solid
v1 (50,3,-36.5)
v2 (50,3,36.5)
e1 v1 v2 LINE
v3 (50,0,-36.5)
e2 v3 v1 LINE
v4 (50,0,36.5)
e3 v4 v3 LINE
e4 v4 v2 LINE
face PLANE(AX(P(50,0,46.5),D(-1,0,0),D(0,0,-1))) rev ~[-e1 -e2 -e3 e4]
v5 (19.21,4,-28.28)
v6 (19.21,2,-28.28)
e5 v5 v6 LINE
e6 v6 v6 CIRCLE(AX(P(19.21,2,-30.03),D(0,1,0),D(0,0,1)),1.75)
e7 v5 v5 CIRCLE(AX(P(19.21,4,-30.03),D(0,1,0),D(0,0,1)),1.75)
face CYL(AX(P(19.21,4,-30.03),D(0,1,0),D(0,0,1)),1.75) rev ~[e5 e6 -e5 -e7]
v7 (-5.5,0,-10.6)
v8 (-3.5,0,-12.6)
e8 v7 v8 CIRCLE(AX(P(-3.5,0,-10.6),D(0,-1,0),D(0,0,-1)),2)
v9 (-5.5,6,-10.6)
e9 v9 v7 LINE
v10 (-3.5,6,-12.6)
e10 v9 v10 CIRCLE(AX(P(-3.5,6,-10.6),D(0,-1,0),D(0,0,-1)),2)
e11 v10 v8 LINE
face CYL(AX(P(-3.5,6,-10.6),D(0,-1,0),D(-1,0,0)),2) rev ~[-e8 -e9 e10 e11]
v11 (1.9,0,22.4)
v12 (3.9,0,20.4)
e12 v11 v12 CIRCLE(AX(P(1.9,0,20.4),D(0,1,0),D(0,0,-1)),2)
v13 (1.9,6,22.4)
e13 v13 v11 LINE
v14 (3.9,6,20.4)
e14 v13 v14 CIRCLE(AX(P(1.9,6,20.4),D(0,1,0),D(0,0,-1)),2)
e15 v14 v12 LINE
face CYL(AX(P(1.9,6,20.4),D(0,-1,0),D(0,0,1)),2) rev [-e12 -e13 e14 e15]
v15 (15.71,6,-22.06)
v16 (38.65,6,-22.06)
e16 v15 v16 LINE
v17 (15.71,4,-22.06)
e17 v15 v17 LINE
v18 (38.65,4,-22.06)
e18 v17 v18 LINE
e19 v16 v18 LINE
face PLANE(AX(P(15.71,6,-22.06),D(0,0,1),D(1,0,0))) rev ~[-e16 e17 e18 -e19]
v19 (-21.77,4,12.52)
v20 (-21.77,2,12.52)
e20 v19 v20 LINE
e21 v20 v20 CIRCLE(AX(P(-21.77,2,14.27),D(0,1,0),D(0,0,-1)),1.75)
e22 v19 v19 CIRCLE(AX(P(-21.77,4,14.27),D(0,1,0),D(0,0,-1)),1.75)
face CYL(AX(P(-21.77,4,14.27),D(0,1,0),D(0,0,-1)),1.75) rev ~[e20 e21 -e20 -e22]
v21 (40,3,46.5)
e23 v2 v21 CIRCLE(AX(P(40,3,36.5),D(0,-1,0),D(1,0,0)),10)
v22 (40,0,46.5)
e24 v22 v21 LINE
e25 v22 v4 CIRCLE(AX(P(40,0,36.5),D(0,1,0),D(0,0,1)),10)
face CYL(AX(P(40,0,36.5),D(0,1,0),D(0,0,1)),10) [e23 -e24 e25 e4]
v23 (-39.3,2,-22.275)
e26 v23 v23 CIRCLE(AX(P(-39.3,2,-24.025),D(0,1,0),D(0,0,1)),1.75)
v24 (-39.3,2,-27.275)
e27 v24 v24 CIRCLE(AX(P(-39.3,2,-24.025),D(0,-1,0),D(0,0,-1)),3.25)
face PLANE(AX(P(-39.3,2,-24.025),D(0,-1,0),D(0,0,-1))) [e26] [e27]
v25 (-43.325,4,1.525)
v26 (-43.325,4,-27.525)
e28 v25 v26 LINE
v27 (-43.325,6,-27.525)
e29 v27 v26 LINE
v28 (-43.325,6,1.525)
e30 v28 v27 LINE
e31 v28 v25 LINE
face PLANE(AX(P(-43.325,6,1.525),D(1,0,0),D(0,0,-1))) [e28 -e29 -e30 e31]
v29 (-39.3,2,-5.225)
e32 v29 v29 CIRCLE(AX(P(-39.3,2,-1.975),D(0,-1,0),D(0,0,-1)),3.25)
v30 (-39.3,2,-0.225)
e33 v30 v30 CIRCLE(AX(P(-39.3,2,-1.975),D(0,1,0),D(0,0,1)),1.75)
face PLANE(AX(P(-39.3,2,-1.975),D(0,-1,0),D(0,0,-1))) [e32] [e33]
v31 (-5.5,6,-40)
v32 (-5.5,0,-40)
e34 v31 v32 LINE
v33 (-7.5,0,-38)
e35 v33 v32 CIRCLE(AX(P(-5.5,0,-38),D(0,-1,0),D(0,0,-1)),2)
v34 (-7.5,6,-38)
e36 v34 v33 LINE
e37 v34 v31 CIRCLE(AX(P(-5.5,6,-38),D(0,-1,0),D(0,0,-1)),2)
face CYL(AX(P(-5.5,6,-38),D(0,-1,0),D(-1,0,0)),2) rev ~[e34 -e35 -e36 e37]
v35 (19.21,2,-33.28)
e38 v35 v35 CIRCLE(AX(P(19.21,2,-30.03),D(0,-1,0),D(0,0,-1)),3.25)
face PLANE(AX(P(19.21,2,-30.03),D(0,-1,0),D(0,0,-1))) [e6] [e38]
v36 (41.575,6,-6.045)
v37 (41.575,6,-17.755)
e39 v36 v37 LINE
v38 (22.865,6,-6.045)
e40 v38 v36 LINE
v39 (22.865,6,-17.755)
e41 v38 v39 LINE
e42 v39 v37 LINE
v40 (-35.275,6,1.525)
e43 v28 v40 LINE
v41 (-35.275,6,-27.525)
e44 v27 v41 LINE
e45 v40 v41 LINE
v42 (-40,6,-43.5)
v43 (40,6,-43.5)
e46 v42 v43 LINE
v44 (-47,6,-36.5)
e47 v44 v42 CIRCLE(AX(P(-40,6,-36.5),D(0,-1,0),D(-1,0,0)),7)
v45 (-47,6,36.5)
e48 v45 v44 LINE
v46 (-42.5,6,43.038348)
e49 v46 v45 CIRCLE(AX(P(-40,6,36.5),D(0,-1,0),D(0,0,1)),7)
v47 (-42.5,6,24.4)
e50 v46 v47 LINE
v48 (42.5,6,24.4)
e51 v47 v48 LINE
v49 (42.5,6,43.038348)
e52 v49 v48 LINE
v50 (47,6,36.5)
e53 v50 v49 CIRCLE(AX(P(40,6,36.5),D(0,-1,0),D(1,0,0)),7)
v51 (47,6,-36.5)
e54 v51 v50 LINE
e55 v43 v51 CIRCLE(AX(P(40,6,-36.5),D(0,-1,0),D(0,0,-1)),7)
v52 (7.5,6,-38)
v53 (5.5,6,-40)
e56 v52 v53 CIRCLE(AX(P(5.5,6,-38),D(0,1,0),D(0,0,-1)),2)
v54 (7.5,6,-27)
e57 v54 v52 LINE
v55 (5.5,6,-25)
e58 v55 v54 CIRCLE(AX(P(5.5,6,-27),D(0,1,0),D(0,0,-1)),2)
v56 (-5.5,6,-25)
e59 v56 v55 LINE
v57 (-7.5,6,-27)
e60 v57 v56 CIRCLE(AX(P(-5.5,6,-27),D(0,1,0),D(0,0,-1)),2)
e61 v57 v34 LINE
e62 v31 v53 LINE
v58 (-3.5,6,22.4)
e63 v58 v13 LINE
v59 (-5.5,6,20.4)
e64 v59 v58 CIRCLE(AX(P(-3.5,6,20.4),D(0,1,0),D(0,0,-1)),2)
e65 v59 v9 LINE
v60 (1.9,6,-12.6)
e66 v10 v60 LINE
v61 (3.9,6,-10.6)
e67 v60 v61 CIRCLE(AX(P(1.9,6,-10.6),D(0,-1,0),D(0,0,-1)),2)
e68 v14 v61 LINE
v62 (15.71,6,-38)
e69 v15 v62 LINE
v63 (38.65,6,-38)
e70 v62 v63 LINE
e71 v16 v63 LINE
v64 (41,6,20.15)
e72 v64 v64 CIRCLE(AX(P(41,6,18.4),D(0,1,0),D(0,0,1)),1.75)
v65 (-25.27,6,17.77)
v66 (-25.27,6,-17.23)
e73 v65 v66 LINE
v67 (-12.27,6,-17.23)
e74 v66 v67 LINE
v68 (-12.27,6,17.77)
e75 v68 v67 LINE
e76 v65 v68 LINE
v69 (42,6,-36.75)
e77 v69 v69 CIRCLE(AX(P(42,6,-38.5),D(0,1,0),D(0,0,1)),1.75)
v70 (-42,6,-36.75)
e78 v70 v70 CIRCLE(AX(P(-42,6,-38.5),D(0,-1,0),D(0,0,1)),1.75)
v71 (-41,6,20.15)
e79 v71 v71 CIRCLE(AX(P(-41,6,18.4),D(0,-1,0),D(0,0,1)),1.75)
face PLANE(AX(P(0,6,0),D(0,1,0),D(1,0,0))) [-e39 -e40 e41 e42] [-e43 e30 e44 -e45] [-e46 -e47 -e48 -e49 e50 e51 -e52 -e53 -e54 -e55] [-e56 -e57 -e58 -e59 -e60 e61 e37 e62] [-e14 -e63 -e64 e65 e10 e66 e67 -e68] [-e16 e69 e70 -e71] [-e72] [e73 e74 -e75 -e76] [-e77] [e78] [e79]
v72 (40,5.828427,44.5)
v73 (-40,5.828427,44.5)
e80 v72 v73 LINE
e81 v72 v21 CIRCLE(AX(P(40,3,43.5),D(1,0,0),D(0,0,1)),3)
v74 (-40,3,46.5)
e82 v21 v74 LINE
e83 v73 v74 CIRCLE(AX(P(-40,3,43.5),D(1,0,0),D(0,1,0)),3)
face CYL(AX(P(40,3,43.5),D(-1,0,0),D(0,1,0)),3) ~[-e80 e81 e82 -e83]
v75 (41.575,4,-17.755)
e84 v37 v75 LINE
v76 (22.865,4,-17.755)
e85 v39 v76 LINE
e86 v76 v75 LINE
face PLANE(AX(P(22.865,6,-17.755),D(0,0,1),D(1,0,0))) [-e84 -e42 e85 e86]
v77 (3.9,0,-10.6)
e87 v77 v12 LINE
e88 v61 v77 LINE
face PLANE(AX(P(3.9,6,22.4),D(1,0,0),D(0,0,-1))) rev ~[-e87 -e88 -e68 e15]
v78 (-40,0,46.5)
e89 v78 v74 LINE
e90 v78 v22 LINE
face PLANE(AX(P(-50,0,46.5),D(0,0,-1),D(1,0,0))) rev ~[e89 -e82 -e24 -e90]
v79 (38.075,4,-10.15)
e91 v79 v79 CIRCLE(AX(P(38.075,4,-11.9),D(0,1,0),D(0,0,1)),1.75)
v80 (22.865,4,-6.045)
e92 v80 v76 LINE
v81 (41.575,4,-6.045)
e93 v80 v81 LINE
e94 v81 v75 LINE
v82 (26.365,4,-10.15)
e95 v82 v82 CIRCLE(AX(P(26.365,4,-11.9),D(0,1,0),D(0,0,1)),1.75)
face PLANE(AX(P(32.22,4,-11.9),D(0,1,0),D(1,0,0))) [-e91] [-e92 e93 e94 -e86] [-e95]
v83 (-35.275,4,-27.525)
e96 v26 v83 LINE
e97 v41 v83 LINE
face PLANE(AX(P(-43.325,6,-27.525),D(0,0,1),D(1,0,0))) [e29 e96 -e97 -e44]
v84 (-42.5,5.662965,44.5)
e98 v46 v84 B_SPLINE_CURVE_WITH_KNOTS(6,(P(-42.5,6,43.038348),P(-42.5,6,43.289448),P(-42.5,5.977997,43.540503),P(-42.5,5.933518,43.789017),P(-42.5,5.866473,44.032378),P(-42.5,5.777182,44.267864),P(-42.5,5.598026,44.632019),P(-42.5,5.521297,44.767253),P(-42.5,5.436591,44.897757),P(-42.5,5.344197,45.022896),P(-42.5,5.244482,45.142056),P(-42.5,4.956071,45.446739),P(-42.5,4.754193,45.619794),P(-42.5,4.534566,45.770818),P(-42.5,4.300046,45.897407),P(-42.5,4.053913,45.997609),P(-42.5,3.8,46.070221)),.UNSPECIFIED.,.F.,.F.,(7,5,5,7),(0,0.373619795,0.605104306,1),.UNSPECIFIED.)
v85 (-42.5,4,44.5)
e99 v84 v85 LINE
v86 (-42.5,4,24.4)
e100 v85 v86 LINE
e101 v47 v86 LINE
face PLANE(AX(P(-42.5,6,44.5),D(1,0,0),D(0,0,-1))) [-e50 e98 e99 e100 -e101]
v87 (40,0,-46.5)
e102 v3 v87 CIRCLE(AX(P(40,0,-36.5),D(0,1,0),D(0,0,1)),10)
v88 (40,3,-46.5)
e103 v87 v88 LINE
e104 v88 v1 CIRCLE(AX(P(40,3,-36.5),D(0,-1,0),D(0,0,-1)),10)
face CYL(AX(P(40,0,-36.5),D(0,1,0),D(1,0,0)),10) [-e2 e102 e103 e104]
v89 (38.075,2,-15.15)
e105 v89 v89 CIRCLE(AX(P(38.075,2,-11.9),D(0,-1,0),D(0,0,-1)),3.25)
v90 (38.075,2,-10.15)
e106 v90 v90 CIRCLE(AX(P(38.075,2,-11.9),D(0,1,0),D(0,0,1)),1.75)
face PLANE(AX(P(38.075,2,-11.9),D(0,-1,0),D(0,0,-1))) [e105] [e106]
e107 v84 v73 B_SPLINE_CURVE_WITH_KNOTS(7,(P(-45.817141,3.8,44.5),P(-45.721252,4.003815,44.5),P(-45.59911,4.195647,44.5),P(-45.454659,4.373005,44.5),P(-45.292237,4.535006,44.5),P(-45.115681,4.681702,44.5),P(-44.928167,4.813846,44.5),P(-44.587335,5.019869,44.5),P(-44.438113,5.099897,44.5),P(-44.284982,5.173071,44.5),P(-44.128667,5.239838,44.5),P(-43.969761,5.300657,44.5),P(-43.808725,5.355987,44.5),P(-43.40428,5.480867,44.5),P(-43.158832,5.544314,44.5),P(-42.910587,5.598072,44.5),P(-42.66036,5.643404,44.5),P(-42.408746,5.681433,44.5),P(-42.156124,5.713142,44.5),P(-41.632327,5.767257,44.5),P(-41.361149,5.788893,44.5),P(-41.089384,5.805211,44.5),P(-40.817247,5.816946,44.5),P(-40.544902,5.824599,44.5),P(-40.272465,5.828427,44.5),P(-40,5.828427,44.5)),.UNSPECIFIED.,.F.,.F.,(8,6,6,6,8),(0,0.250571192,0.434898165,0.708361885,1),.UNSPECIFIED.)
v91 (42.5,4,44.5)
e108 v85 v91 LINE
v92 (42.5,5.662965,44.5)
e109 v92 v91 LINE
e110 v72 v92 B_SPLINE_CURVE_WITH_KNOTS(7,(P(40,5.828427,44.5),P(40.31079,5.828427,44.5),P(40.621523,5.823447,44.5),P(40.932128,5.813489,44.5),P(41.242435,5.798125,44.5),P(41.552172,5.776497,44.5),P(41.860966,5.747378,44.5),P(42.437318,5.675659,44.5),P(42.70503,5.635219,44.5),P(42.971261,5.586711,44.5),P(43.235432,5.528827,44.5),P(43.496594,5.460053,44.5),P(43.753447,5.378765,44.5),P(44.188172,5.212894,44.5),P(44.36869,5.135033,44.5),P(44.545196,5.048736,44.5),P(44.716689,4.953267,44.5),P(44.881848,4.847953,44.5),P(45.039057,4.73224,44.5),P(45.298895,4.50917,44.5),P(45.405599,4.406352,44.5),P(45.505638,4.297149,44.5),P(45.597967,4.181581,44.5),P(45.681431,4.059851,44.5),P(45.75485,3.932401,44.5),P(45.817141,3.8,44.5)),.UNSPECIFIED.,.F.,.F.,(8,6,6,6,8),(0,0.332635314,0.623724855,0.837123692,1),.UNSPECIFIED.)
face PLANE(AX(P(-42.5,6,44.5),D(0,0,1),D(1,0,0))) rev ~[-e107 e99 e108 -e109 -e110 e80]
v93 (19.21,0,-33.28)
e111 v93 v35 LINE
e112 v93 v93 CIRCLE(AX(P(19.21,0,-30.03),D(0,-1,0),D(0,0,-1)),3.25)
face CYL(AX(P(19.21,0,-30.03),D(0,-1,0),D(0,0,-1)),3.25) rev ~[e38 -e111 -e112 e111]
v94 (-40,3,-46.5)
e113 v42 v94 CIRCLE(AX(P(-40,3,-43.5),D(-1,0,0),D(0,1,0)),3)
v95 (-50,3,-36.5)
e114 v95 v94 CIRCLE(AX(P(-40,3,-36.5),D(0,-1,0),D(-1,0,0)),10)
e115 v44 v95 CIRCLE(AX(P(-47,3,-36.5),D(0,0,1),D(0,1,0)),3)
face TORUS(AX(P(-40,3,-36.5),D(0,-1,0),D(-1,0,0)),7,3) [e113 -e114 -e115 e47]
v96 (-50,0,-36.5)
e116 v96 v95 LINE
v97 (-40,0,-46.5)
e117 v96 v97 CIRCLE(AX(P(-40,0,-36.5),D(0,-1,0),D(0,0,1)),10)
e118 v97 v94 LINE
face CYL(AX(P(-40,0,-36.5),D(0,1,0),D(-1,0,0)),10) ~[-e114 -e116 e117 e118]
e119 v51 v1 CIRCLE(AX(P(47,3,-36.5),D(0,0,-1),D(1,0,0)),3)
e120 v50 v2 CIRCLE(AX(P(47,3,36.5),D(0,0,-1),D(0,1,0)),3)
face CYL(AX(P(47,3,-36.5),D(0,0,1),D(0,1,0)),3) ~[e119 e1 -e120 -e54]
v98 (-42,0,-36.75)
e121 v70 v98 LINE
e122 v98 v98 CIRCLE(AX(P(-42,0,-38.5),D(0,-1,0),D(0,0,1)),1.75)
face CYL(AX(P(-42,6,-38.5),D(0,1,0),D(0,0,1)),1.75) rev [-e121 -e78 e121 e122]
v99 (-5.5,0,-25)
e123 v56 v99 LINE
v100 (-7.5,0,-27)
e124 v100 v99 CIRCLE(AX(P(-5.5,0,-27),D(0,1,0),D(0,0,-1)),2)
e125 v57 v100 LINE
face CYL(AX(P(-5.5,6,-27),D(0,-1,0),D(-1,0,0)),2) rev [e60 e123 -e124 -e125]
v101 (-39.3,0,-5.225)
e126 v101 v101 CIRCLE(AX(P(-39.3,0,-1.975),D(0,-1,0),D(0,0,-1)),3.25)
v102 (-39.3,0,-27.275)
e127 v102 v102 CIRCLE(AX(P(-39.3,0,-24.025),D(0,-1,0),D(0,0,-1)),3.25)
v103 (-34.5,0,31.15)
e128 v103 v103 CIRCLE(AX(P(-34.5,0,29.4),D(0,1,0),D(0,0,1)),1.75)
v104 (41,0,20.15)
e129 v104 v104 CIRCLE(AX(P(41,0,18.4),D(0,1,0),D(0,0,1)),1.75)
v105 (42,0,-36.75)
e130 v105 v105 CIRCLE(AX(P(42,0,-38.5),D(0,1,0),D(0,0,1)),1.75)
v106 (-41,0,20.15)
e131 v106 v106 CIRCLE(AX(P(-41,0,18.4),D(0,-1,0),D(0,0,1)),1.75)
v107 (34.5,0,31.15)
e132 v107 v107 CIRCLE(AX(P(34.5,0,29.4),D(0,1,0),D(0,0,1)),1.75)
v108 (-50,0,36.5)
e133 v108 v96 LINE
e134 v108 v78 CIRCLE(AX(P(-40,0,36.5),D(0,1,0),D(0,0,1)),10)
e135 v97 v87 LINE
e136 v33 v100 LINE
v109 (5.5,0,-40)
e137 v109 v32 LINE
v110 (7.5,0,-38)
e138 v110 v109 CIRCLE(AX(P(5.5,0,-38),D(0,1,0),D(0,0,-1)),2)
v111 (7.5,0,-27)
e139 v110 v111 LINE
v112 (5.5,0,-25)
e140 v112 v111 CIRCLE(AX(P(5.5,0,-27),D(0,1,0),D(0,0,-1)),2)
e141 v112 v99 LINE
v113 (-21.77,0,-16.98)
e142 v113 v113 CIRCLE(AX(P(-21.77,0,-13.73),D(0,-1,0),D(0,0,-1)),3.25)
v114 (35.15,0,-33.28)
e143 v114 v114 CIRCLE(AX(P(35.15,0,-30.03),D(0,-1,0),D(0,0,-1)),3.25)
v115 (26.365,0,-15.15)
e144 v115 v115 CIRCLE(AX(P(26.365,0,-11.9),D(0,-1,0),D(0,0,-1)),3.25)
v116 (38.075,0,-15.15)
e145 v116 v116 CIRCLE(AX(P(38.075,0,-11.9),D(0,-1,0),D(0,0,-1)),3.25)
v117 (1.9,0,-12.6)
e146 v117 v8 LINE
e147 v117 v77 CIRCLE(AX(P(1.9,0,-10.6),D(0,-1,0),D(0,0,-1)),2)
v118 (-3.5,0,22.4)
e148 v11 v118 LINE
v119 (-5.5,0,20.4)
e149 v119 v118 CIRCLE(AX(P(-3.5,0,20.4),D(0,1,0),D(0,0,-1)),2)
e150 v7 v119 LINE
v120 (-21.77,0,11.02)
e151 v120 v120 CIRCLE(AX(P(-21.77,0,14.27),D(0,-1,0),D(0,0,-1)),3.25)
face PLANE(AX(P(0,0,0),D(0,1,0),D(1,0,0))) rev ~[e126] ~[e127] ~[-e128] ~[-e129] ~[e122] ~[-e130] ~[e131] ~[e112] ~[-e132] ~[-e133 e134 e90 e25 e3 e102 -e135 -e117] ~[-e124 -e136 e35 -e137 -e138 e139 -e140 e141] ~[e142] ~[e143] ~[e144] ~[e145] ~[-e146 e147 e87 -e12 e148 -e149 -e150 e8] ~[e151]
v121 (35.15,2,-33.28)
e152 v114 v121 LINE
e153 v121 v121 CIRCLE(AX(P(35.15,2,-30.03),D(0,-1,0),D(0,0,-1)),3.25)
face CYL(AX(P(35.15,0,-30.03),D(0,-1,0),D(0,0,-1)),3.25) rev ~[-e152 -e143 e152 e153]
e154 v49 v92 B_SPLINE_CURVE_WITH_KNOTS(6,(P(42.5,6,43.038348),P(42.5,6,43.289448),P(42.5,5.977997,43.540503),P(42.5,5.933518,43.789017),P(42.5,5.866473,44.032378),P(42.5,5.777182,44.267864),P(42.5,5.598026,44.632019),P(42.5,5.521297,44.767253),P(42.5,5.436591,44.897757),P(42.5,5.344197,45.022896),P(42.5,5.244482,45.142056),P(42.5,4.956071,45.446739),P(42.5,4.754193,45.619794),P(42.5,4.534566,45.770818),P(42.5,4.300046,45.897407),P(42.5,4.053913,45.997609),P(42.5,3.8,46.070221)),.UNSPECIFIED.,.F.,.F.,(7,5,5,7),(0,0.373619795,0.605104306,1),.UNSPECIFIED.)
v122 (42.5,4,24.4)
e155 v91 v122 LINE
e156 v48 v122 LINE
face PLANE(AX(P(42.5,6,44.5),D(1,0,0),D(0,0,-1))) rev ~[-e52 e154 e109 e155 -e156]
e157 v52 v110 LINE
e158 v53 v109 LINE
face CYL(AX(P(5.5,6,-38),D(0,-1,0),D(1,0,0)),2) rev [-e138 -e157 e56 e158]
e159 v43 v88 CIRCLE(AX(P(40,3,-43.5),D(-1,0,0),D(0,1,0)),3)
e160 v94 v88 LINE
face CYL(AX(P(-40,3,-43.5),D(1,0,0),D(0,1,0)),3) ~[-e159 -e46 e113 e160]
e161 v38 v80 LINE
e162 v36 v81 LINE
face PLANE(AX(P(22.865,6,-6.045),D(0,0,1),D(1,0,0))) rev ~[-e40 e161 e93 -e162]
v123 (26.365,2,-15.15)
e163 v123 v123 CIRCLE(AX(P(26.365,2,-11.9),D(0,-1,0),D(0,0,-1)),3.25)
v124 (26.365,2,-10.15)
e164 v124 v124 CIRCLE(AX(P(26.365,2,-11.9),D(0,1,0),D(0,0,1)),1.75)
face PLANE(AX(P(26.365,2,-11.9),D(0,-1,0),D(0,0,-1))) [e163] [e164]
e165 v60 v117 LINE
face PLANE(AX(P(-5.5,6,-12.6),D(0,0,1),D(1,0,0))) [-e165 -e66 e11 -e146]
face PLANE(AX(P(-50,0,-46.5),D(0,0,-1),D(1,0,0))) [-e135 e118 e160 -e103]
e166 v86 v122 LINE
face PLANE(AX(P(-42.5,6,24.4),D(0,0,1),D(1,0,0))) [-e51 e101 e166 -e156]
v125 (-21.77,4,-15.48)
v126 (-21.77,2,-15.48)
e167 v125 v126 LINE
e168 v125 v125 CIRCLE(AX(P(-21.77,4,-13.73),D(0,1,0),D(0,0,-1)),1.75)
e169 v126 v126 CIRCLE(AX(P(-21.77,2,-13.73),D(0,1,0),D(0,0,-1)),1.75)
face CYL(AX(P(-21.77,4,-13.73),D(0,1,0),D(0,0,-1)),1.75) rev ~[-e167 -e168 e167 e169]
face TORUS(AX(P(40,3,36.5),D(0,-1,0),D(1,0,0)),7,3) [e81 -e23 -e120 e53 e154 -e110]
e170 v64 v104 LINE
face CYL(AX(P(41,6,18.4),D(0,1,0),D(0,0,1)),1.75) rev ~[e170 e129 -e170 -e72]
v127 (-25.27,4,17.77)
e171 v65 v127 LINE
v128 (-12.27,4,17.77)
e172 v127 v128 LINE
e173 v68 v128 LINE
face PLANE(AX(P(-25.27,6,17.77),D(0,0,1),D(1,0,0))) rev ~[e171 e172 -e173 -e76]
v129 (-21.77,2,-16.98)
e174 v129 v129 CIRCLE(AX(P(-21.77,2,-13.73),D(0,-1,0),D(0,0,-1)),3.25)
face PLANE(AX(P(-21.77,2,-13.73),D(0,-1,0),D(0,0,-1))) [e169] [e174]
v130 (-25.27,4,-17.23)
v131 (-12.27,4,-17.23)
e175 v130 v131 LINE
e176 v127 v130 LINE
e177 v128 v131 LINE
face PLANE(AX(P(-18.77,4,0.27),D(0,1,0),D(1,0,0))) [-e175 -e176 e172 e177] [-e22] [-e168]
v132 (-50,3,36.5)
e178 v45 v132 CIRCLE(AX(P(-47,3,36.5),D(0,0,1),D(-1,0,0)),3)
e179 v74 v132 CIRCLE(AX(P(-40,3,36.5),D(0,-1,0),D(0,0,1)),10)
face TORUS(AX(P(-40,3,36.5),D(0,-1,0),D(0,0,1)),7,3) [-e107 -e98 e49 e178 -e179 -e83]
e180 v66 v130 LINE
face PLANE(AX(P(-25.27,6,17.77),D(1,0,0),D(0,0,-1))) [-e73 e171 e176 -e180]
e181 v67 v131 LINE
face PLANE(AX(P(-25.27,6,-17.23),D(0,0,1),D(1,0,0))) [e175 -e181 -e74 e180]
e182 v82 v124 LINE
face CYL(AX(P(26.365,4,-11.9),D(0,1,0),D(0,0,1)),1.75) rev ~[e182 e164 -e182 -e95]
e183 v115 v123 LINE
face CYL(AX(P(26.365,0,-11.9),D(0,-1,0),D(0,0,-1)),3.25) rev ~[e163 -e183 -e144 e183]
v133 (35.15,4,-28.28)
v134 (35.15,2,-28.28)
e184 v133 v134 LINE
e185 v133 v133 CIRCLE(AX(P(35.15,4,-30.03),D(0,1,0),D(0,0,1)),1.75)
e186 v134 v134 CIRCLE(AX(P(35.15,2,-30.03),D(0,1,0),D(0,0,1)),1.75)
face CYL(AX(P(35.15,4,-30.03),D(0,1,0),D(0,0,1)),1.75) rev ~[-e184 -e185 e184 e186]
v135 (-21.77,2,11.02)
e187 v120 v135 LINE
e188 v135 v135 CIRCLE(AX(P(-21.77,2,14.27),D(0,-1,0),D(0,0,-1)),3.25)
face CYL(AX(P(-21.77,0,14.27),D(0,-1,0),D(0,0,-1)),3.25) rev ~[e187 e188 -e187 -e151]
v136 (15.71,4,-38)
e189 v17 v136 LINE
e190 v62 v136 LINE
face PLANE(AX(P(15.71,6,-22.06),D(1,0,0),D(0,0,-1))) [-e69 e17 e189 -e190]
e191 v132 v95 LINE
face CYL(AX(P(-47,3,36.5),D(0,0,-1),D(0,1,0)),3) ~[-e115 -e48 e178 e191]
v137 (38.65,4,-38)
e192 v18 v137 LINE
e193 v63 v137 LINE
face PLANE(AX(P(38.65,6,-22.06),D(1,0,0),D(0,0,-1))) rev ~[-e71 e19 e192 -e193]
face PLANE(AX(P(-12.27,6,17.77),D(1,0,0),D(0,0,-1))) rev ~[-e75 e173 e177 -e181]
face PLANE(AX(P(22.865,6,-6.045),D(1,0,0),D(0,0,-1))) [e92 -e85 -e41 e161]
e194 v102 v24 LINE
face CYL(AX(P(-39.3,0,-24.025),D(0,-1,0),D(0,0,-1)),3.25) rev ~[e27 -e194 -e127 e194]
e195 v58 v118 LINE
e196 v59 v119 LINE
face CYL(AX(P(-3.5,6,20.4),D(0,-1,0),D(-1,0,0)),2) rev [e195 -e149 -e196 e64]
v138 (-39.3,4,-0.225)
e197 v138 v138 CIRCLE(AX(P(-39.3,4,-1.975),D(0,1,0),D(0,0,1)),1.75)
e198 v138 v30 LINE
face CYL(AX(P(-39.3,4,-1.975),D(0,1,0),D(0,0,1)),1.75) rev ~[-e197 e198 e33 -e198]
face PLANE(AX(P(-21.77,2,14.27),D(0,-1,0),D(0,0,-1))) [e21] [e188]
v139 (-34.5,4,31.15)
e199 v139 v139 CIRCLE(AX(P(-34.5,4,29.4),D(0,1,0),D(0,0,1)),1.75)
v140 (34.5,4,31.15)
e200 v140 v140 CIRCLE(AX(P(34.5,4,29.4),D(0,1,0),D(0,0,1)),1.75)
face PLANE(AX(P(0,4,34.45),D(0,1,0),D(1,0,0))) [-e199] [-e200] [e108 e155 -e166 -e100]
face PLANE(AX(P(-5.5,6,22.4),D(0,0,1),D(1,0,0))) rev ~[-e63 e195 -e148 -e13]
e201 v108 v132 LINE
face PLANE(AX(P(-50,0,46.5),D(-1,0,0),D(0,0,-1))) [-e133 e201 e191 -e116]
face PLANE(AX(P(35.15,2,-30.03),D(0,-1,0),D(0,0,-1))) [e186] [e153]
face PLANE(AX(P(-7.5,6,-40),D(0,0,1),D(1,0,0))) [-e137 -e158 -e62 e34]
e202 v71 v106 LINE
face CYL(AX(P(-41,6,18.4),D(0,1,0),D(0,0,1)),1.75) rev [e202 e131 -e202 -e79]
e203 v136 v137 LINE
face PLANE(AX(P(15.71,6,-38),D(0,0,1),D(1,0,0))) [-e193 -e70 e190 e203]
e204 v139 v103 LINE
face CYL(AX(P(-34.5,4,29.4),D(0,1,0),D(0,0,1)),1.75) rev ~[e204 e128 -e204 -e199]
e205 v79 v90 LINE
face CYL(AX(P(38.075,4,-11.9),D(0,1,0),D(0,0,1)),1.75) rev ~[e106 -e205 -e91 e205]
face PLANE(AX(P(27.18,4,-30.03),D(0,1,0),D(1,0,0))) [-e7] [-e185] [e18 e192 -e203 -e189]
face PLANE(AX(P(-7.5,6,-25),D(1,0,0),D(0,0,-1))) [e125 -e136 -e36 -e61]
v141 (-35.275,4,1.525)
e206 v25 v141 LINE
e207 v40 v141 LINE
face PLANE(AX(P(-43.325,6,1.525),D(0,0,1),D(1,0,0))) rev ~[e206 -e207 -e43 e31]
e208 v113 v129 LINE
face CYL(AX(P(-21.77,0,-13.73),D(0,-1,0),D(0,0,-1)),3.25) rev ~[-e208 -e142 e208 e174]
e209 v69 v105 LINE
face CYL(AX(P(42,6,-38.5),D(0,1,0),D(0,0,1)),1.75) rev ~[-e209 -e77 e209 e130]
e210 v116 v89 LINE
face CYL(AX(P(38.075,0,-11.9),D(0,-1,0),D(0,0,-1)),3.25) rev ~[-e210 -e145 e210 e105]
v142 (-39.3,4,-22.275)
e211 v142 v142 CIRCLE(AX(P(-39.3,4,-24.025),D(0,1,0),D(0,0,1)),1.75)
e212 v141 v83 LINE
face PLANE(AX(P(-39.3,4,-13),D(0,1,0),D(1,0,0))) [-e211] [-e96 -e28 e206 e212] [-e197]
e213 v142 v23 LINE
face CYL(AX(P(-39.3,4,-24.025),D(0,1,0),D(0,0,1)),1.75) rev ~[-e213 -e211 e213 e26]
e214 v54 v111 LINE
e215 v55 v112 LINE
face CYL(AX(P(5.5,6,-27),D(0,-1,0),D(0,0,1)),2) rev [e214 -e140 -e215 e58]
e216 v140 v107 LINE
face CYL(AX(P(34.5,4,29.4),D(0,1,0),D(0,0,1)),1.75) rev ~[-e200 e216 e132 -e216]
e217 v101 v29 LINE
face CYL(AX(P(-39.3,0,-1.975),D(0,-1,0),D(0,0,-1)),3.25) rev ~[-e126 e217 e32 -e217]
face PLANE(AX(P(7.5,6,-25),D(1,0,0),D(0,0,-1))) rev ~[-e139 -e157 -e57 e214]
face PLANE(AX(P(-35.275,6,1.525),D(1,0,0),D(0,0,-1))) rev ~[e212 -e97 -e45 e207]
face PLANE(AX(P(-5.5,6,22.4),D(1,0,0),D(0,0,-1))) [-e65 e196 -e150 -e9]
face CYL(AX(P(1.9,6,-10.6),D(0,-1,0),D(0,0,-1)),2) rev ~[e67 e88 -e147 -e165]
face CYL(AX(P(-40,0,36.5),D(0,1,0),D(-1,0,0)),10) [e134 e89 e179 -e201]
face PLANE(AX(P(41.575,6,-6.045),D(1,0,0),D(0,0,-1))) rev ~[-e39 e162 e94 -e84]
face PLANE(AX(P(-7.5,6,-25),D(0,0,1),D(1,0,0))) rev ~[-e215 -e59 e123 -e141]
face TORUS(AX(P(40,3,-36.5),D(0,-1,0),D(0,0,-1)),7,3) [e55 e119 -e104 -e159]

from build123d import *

# Parameters (mm, degrees)
ESBO_O1_W                          = 100
ESBO_O1_H                          = 93
RESSALTO_EXTRUS_O1_DEPTH           = 6
FILETE1_R                          = 10
FILETE2_R                          = 3
ESBO_O2_W                          = 85
ESBO_O2_H                          = 20.1
CORTE_EXTRUS_O1_DEPTH              = 2
CORTE_EXTRUS_O6_REACH              = 70.398
ESBO_O8_R                          = 1.75
ESBO_O5_W                          = 8.05
ESBO_O5_H                          = 29.05
CORTE_EXTRUS_O3_DEPTH              = 2
CORTE_EXTRUS_O10_REACH             = 70.398
ESBO_O13_R                         = 1.75
ESBO_O14_R                         = 3.25
CORTE_EXTRUS_O11_DEPTH             = 2
ESBO_O6_W                          = 22.94
ESBO_O6_H                          = 15.94
CORTE_EXTRUS_O4_DEPTH              = 2
CORTE_EXTRUS_O12_REACH             = 70.398
ESBO_O15_R                         = 1.75
ESBO_O16_R                         = 3.25
CORTE_EXTRUS_O13_DEPTH             = 2
ESBO_O7_W                          = 18.71
ESBO_O7_H                          = 11.71
CORTE_EXTRUS_O5_DEPTH              = 2
CORTE_EXTRUS_O8_REACH              = 70.398
ESBO_O11_R                         = 1.75
ESBO_O12_R                         = 3.25
CORTE_EXTRUS_O9_DEPTH              = 2
ESBO_O17_W                         = 13
ESBO_O17_H                         = 35
CORTE_EXTRUS_O14_DEPTH             = 2
CORTE_EXTRUS_O15_REACH             = 70.398
ESBO_O18_R                         = 1.75
CORTE_EXTRUS_O15_DIRECTION_2_DEPTH = 69.397734022
ESBO_O19_R                         = 3.25
CORTE_EXTRUS_O18_DEPTH             = 2
CORTE_EXTRUS_O17_REACH             = 70.544
ESBO_O20_W                         = 9.4
ESBO_O20_H                         = 35
CORTE_EXTRUS_O19_REACH             = 70.544
ESBO_O21_W                         = 15
ESBO_O21_H                         = 15
FILETE3_R                          = 2
CORTE_EXTRUS_O20_REACH             = 70.544
ESBO_O22_R                         = 1.75
CORTE_EXTRUS_O21_REACH             = 70.544
ESBO_O23_R                         = 1.75


with BuildPart() as part:
    # Esboço1 → Ressalto-extrusão1 (new body)
    with BuildSketch(Plane(origin=(0, 0, 0), x_dir=(1, 0, 0), z_dir=(0, 1, 0))):
        Rectangle(ESBO_O1_W, ESBO_O1_H)
    extrude(amount=RESSALTO_EXTRUS_O1_DEPTH)

    # Filete1
    filete1_edges = [part.edges().sort_by_distance(p)[0] for p in [
        (50, 3, 46.5),
        (-50, 3, 46.5),
        (-50, 3, -46.5),
        (50, 3, -46.5),
    ]]
    fillet(filete1_edges, radius=FILETE1_R)

    # Filete2
    filete2_edges = [part.edges().sort_by_distance(p)[0] for p in [
        (0, 6, -46.5),
        (50, 6, 0),
        (-50, 6, 0),
        (0, 6, 46.5),
        (-47.071067812, 6, -43.571067812),
        (-47.071067812, 6, 43.571067812),
        (47.071067812, 6, 43.571067812),
        (47.071067812, 6, -43.571067812),
    ]]
    fillet(filete2_edges, radius=FILETE2_R)

    # Esboço2 → Corte-extrusão1 (cut)
    with BuildSketch(Plane(origin=(0, 6, 0), x_dir=(1, 0, 0), z_dir=(0, 1, 0))):
        with Locations((0, -34.45)):
            Rectangle(ESBO_O2_W, ESBO_O2_H)
    extrude(amount=-CORTE_EXTRUS_O1_DEPTH, mode=Mode.SUBTRACT)

    # Esboço8 → Corte-extrusão6 (cut, up to next)
    with BuildSketch(Plane(origin=(0, 4, 0), x_dir=(1, 0, 0), z_dir=(0, 1, 0)), mode=Mode.PRIVATE) as corte_extrus_o6_sk1:
        with Locations(Location((34.5, -29.4, 0), (0, 0, 270))):
            Circle(ESBO_O8_R)
    corte_extrus_o6_tool1 = extrude(corte_extrus_o6_sk1.sketch, amount=-CORTE_EXTRUS_O6_REACH, mode=Mode.PRIVATE) & part.part
    # Esboço8 → Corte-extrusão6 (cut, up to next)
    with BuildSketch(Plane(origin=(0, 4, 0), x_dir=(1, 0, 0), z_dir=(0, 1, 0)), mode=Mode.PRIVATE) as corte_extrus_o6_sk2:
        with Locations(Location((-34.5, -29.4, 0), (0, 0, 270))):
            Circle(ESBO_O8_R)
    corte_extrus_o6_tool2 = extrude(corte_extrus_o6_sk2.sketch, amount=-CORTE_EXTRUS_O6_REACH, mode=Mode.PRIVATE) & part.part
    add(corte_extrus_o6_tool1.solids().sort_by_distance((34.5, 4, 29.4))[0], mode=Mode.SUBTRACT)
    add(corte_extrus_o6_tool2.solids().sort_by_distance((-34.5, 4, 29.4))[0], mode=Mode.SUBTRACT)

    # Esboço5 → Corte-extrusão3 (cut)
    with BuildSketch(Plane(origin=(0, 6, 0), x_dir=(1, 0, 0), z_dir=(0, 1, 0))):
        with Locations((-39.3, 13)):
            Rectangle(ESBO_O5_W, ESBO_O5_H)
    extrude(amount=-CORTE_EXTRUS_O3_DEPTH, mode=Mode.SUBTRACT)

    # Esboço13 → Corte-extrusão10 (cut, up to next)
    with BuildSketch(Plane(origin=(0, 4, 0), x_dir=(1, 0, 0), z_dir=(0, 1, 0)), mode=Mode.PRIVATE) as corte_extrus_o10_sk1:
        with Locations(Location((-39.3, 24.025, 0), (0, 0, 270))):
            Circle(ESBO_O13_R)
    corte_extrus_o10_tool1 = extrude(corte_extrus_o10_sk1.sketch, amount=-CORTE_EXTRUS_O10_REACH, mode=Mode.PRIVATE) & part.part
    # Esboço13 → Corte-extrusão10 (cut, up to next)
    with BuildSketch(Plane(origin=(0, 4, 0), x_dir=(1, 0, 0), z_dir=(0, 1, 0)), mode=Mode.PRIVATE) as corte_extrus_o10_sk2:
        with Locations(Location((-39.3, 1.975, 0), (0, 0, 270))):
            Circle(ESBO_O13_R)
    corte_extrus_o10_tool2 = extrude(corte_extrus_o10_sk2.sketch, amount=-CORTE_EXTRUS_O10_REACH, mode=Mode.PRIVATE) & part.part
    add(corte_extrus_o10_tool1.solids().sort_by_distance((-39.3, 4, -24.025))[0], mode=Mode.SUBTRACT)
    add(corte_extrus_o10_tool2.solids().sort_by_distance((-39.3, 4, -1.975))[0], mode=Mode.SUBTRACT)

    # Esboço14 → Corte-extrusão11 (cut)
    with BuildSketch(Plane.XZ):
        with Locations(Location((-39.3, -1.975, 0), (0, 0, 270))):
            Circle(ESBO_O14_R)
        with Locations(Location((-39.3, -24.025, 0), (0, 0, 270))):
            Circle(ESBO_O14_R)
    extrude(amount=-CORTE_EXTRUS_O11_DEPTH, mode=Mode.SUBTRACT)

    # Esboço6 → Corte-extrusão4 (cut)
    with BuildSketch(Plane(origin=(0, 6, 0), x_dir=(1, 0, 0), z_dir=(0, 1, 0))):
        with Locations((27.18, 30.03)):
            Rectangle(ESBO_O6_W, ESBO_O6_H)
    extrude(amount=-CORTE_EXTRUS_O4_DEPTH, mode=Mode.SUBTRACT)

    # Esboço15 → Corte-extrusão12 (cut, up to next)
    with BuildSketch(Plane(origin=(0, 4, 0), x_dir=(1, 0, 0), z_dir=(0, 1, 0)), mode=Mode.PRIVATE) as corte_extrus_o12_sk1:
        with Locations(Location((19.21, 30.03, 0), (0, 0, 270))):
            Circle(ESBO_O15_R)
    corte_extrus_o12_tool1 = extrude(corte_extrus_o12_sk1.sketch, amount=-CORTE_EXTRUS_O12_REACH, mode=Mode.PRIVATE) & part.part
    # Esboço15 → Corte-extrusão12 (cut, up to next)
    with BuildSketch(Plane(origin=(0, 4, 0), x_dir=(1, 0, 0), z_dir=(0, 1, 0)), mode=Mode.PRIVATE) as corte_extrus_o12_sk2:
        with Locations(Location((35.15, 30.03, 0), (0, 0, 270))):
            Circle(ESBO_O15_R)
    corte_extrus_o12_tool2 = extrude(corte_extrus_o12_sk2.sketch, amount=-CORTE_EXTRUS_O12_REACH, mode=Mode.PRIVATE) & part.part
    add(corte_extrus_o12_tool1.solids().sort_by_distance((19.21, 4, -30.03))[0], mode=Mode.SUBTRACT)
    add(corte_extrus_o12_tool2.solids().sort_by_distance((35.15, 4, -30.03))[0], mode=Mode.SUBTRACT)

    # Esboço16 → Corte-extrusão13 (cut)
    with BuildSketch(Plane.XZ):
        with Locations(Location((19.21, -30.03, 0), (0, 0, 270))):
            Circle(ESBO_O16_R)
        with Locations(Location((35.15, -30.03, 0), (0, 0, 270))):
            Circle(ESBO_O16_R)
    extrude(amount=-CORTE_EXTRUS_O13_DEPTH, mode=Mode.SUBTRACT)

    # Esboço7 → Corte-extrusão5 (cut)
    with BuildSketch(Plane(origin=(0, 6, 0), x_dir=(1, 0, 0), z_dir=(0, 1, 0))):
        with Locations((32.22, 11.9)):
            Rectangle(ESBO_O7_W, ESBO_O7_H)
    extrude(amount=-CORTE_EXTRUS_O5_DEPTH, mode=Mode.SUBTRACT)

    # Esboço11 → Corte-extrusão8 (cut, up to next)
    with BuildSketch(Plane(origin=(0, 4, 0), x_dir=(1, 0, 0), z_dir=(0, 1, 0)), mode=Mode.PRIVATE) as corte_extrus_o8_sk1:
        with Locations(Location((26.365, 11.9, 0), (0, 0, 270))):
            Circle(ESBO_O11_R)
    corte_extrus_o8_tool1 = extrude(corte_extrus_o8_sk1.sketch, amount=-CORTE_EXTRUS_O8_REACH, mode=Mode.PRIVATE) & part.part
    # Esboço11 → Corte-extrusão8 (cut, up to next)
    with BuildSketch(Plane(origin=(0, 4, 0), x_dir=(1, 0, 0), z_dir=(0, 1, 0)), mode=Mode.PRIVATE) as corte_extrus_o8_sk2:
        with Locations(Location((38.075, 11.9, 0), (0, 0, 270))):
            Circle(ESBO_O11_R)
    corte_extrus_o8_tool2 = extrude(corte_extrus_o8_sk2.sketch, amount=-CORTE_EXTRUS_O8_REACH, mode=Mode.PRIVATE) & part.part
    add(corte_extrus_o8_tool1.solids().sort_by_distance((26.365, 4, -11.9))[0], mode=Mode.SUBTRACT)
    add(corte_extrus_o8_tool2.solids().sort_by_distance((38.075, 4, -11.9))[0], mode=Mode.SUBTRACT)

    # Esboço12 → Corte-extrusão9 (cut)
    with BuildSketch(Plane.XZ):
        with Locations(Location((26.365, -11.9, 0), (0, 0, 270))):
            Circle(ESBO_O12_R)
        with Locations(Location((38.075, -11.9, 0), (0, 0, 270))):
            Circle(ESBO_O12_R)
    extrude(amount=-CORTE_EXTRUS_O9_DEPTH, mode=Mode.SUBTRACT)

    # Esboço17 → Corte-extrusão14 (cut)
    with BuildSketch(Plane(origin=(0, 6, 0), x_dir=(1, 0, 0), z_dir=(0, 1, 0))):
        with Locations((-18.77, -0.27)):
            Rectangle(ESBO_O17_W, ESBO_O17_H)
    extrude(amount=-CORTE_EXTRUS_O14_DEPTH, mode=Mode.SUBTRACT)

    # Esboço18 → Corte-extrusão15 (cut, up to next)
    with BuildSketch(Plane(origin=(0, 4, 0), x_dir=(1, 0, 0), z_dir=(0, 1, 0)), mode=Mode.PRIVATE) as corte_extrus_o15_sk1:
        with Locations(Location((-21.77, 13.73, 0), (0, 0, 90))):
            Circle(ESBO_O18_R)
    corte_extrus_o15_tool1 = extrude(corte_extrus_o15_sk1.sketch, amount=-CORTE_EXTRUS_O15_REACH, mode=Mode.PRIVATE) & part.part
    # Esboço18 → Corte-extrusão15 (cut, up to next)
    with BuildSketch(Plane(origin=(0, 4, 0), x_dir=(1, 0, 0), z_dir=(0, 1, 0)), mode=Mode.PRIVATE) as corte_extrus_o15_sk2:
        with Locations(Location((-21.77, -14.27, 0), (0, 0, 90))):
            Circle(ESBO_O18_R)
    corte_extrus_o15_tool2 = extrude(corte_extrus_o15_sk2.sketch, amount=-CORTE_EXTRUS_O15_REACH, mode=Mode.PRIVATE) & part.part
    add(corte_extrus_o15_tool1.solids().sort_by_distance((-21.77, 4, -13.73))[0], mode=Mode.SUBTRACT)
    add(corte_extrus_o15_tool2.solids().sort_by_distance((-21.77, 4, 14.27))[0], mode=Mode.SUBTRACT)

    # Esboço18 → Corte-extrusão15 direction 2 (cut)
    with BuildSketch(Plane(origin=(0, 4, 0), x_dir=(1, 0, 0), z_dir=(0, 1, 0))):
        with Locations(Location((-21.77, 13.73, 0), (0, 0, 90))):
            Circle(ESBO_O18_R)
        with Locations(Location((-21.77, -14.27, 0), (0, 0, 90))):
            Circle(ESBO_O18_R)
    extrude(amount=CORTE_EXTRUS_O15_DIRECTION_2_DEPTH, mode=Mode.SUBTRACT)

    # Esboço19 → Corte-extrusão18 (cut)
    with BuildSketch(Plane.XZ):
        with Locations(Location((-21.77, 14.27, 0), (0, 0, 270))):
            Circle(ESBO_O19_R)
        with Locations(Location((-21.77, -13.73, 0), (0, 0, 270))):
            Circle(ESBO_O19_R)
    extrude(amount=-CORTE_EXTRUS_O18_DEPTH, mode=Mode.SUBTRACT)

    # Esboço20 → Corte-extrusão17 (cut, up to next)
    with BuildSketch(Plane(origin=(0, 6, 0), x_dir=(1, 0, 0), z_dir=(0, 1, 0)), mode=Mode.PRIVATE) as corte_extrus_o17_sk1:
        with Locations((-0.8, -4.9)):
            Rectangle(ESBO_O20_W, ESBO_O20_H)
    corte_extrus_o17_tool1 = extrude(corte_extrus_o17_sk1.sketch, amount=-CORTE_EXTRUS_O17_REACH, mode=Mode.PRIVATE) & part.part
    add(corte_extrus_o17_tool1.solids().sort_by_distance((-0.8, 6, 4.9))[0], mode=Mode.SUBTRACT)

    # Esboço21 → Corte-extrusão19 (cut, up to next)
    with BuildSketch(Plane(origin=(0, 6, 0), x_dir=(1, 0, 0), z_dir=(0, 1, 0)), mode=Mode.PRIVATE) as corte_extrus_o19_sk1:
        with Locations((0, 32.5)):
            Rectangle(ESBO_O21_W, ESBO_O21_H)
    corte_extrus_o19_tool1 = extrude(corte_extrus_o19_sk1.sketch, amount=-CORTE_EXTRUS_O19_REACH, mode=Mode.PRIVATE) & part.part
    add(corte_extrus_o19_tool1.solids().sort_by_distance((0, 6, -32.5))[0], mode=Mode.SUBTRACT)

    # Filete3
    filete3_edges = [part.edges().sort_by_distance(p)[0] for p in [
        (-5.5, 3, 22.4),
        (-5.5, 3, -12.6),
        (3.9, 3, -12.6),
        (3.9, 3, 22.4),
        (-7.5, 3, -25),
        (-7.5, 3, -40),
        (7.5, 3, -40),
        (7.5, 3, -25),
    ]]
    fillet(filete3_edges, radius=FILETE3_R)

    # Esboço22 → Corte-extrusão20 (cut, up to next)
    with BuildSketch(Plane(origin=(0, 6, 0), x_dir=(1, 0, 0), z_dir=(0, 1, 0)), mode=Mode.PRIVATE) as corte_extrus_o20_sk1:
        with Locations(Location((41, -18.4, 0), (0, 0, 270))):
            Circle(ESBO_O22_R)
    corte_extrus_o20_tool1 = extrude(corte_extrus_o20_sk1.sketch, amount=-CORTE_EXTRUS_O20_REACH, mode=Mode.PRIVATE) & part.part
    corte_extrus_o20 = corte_extrus_o20_tool1.solids().sort_by_distance((41, 6, 18.4))[0]
    add(corte_extrus_o20, mode=Mode.SUBTRACT)

    # Esboço23 → Corte-extrusão21 (cut, up to next)
    with BuildSketch(Plane(origin=(0, 6, 0), x_dir=(1, 0, 0), z_dir=(0, 1, 0)), mode=Mode.PRIVATE) as corte_extrus_o21_sk1:
        with Locations(Location((42, 38.5, 0), (0, 0, 270))):
            Circle(ESBO_O23_R)
    corte_extrus_o21_tool1 = extrude(corte_extrus_o21_sk1.sketch, amount=-CORTE_EXTRUS_O21_REACH, mode=Mode.PRIVATE) & part.part
    corte_extrus_o21 = corte_extrus_o21_tool1.solids().sort_by_distance((42, 6, -38.5))[0]
    add(corte_extrus_o21, mode=Mode.SUBTRACT)

    # Espelhar1: Corte-extrusão20, Corte-extrusão21 across plane
    add(corte_extrus_o20.mirror(Plane(origin=(0, 0, 0), x_dir=(0, 0, 1), z_dir=(1, 0, 0))), mode=Mode.SUBTRACT)
    add(corte_extrus_o21.mirror(Plane(origin=(0, 0, 0), x_dir=(0, 0, 1), z_dir=(1, 0, 0))), mode=Mode.SUBTRACT)


solid = part.part
